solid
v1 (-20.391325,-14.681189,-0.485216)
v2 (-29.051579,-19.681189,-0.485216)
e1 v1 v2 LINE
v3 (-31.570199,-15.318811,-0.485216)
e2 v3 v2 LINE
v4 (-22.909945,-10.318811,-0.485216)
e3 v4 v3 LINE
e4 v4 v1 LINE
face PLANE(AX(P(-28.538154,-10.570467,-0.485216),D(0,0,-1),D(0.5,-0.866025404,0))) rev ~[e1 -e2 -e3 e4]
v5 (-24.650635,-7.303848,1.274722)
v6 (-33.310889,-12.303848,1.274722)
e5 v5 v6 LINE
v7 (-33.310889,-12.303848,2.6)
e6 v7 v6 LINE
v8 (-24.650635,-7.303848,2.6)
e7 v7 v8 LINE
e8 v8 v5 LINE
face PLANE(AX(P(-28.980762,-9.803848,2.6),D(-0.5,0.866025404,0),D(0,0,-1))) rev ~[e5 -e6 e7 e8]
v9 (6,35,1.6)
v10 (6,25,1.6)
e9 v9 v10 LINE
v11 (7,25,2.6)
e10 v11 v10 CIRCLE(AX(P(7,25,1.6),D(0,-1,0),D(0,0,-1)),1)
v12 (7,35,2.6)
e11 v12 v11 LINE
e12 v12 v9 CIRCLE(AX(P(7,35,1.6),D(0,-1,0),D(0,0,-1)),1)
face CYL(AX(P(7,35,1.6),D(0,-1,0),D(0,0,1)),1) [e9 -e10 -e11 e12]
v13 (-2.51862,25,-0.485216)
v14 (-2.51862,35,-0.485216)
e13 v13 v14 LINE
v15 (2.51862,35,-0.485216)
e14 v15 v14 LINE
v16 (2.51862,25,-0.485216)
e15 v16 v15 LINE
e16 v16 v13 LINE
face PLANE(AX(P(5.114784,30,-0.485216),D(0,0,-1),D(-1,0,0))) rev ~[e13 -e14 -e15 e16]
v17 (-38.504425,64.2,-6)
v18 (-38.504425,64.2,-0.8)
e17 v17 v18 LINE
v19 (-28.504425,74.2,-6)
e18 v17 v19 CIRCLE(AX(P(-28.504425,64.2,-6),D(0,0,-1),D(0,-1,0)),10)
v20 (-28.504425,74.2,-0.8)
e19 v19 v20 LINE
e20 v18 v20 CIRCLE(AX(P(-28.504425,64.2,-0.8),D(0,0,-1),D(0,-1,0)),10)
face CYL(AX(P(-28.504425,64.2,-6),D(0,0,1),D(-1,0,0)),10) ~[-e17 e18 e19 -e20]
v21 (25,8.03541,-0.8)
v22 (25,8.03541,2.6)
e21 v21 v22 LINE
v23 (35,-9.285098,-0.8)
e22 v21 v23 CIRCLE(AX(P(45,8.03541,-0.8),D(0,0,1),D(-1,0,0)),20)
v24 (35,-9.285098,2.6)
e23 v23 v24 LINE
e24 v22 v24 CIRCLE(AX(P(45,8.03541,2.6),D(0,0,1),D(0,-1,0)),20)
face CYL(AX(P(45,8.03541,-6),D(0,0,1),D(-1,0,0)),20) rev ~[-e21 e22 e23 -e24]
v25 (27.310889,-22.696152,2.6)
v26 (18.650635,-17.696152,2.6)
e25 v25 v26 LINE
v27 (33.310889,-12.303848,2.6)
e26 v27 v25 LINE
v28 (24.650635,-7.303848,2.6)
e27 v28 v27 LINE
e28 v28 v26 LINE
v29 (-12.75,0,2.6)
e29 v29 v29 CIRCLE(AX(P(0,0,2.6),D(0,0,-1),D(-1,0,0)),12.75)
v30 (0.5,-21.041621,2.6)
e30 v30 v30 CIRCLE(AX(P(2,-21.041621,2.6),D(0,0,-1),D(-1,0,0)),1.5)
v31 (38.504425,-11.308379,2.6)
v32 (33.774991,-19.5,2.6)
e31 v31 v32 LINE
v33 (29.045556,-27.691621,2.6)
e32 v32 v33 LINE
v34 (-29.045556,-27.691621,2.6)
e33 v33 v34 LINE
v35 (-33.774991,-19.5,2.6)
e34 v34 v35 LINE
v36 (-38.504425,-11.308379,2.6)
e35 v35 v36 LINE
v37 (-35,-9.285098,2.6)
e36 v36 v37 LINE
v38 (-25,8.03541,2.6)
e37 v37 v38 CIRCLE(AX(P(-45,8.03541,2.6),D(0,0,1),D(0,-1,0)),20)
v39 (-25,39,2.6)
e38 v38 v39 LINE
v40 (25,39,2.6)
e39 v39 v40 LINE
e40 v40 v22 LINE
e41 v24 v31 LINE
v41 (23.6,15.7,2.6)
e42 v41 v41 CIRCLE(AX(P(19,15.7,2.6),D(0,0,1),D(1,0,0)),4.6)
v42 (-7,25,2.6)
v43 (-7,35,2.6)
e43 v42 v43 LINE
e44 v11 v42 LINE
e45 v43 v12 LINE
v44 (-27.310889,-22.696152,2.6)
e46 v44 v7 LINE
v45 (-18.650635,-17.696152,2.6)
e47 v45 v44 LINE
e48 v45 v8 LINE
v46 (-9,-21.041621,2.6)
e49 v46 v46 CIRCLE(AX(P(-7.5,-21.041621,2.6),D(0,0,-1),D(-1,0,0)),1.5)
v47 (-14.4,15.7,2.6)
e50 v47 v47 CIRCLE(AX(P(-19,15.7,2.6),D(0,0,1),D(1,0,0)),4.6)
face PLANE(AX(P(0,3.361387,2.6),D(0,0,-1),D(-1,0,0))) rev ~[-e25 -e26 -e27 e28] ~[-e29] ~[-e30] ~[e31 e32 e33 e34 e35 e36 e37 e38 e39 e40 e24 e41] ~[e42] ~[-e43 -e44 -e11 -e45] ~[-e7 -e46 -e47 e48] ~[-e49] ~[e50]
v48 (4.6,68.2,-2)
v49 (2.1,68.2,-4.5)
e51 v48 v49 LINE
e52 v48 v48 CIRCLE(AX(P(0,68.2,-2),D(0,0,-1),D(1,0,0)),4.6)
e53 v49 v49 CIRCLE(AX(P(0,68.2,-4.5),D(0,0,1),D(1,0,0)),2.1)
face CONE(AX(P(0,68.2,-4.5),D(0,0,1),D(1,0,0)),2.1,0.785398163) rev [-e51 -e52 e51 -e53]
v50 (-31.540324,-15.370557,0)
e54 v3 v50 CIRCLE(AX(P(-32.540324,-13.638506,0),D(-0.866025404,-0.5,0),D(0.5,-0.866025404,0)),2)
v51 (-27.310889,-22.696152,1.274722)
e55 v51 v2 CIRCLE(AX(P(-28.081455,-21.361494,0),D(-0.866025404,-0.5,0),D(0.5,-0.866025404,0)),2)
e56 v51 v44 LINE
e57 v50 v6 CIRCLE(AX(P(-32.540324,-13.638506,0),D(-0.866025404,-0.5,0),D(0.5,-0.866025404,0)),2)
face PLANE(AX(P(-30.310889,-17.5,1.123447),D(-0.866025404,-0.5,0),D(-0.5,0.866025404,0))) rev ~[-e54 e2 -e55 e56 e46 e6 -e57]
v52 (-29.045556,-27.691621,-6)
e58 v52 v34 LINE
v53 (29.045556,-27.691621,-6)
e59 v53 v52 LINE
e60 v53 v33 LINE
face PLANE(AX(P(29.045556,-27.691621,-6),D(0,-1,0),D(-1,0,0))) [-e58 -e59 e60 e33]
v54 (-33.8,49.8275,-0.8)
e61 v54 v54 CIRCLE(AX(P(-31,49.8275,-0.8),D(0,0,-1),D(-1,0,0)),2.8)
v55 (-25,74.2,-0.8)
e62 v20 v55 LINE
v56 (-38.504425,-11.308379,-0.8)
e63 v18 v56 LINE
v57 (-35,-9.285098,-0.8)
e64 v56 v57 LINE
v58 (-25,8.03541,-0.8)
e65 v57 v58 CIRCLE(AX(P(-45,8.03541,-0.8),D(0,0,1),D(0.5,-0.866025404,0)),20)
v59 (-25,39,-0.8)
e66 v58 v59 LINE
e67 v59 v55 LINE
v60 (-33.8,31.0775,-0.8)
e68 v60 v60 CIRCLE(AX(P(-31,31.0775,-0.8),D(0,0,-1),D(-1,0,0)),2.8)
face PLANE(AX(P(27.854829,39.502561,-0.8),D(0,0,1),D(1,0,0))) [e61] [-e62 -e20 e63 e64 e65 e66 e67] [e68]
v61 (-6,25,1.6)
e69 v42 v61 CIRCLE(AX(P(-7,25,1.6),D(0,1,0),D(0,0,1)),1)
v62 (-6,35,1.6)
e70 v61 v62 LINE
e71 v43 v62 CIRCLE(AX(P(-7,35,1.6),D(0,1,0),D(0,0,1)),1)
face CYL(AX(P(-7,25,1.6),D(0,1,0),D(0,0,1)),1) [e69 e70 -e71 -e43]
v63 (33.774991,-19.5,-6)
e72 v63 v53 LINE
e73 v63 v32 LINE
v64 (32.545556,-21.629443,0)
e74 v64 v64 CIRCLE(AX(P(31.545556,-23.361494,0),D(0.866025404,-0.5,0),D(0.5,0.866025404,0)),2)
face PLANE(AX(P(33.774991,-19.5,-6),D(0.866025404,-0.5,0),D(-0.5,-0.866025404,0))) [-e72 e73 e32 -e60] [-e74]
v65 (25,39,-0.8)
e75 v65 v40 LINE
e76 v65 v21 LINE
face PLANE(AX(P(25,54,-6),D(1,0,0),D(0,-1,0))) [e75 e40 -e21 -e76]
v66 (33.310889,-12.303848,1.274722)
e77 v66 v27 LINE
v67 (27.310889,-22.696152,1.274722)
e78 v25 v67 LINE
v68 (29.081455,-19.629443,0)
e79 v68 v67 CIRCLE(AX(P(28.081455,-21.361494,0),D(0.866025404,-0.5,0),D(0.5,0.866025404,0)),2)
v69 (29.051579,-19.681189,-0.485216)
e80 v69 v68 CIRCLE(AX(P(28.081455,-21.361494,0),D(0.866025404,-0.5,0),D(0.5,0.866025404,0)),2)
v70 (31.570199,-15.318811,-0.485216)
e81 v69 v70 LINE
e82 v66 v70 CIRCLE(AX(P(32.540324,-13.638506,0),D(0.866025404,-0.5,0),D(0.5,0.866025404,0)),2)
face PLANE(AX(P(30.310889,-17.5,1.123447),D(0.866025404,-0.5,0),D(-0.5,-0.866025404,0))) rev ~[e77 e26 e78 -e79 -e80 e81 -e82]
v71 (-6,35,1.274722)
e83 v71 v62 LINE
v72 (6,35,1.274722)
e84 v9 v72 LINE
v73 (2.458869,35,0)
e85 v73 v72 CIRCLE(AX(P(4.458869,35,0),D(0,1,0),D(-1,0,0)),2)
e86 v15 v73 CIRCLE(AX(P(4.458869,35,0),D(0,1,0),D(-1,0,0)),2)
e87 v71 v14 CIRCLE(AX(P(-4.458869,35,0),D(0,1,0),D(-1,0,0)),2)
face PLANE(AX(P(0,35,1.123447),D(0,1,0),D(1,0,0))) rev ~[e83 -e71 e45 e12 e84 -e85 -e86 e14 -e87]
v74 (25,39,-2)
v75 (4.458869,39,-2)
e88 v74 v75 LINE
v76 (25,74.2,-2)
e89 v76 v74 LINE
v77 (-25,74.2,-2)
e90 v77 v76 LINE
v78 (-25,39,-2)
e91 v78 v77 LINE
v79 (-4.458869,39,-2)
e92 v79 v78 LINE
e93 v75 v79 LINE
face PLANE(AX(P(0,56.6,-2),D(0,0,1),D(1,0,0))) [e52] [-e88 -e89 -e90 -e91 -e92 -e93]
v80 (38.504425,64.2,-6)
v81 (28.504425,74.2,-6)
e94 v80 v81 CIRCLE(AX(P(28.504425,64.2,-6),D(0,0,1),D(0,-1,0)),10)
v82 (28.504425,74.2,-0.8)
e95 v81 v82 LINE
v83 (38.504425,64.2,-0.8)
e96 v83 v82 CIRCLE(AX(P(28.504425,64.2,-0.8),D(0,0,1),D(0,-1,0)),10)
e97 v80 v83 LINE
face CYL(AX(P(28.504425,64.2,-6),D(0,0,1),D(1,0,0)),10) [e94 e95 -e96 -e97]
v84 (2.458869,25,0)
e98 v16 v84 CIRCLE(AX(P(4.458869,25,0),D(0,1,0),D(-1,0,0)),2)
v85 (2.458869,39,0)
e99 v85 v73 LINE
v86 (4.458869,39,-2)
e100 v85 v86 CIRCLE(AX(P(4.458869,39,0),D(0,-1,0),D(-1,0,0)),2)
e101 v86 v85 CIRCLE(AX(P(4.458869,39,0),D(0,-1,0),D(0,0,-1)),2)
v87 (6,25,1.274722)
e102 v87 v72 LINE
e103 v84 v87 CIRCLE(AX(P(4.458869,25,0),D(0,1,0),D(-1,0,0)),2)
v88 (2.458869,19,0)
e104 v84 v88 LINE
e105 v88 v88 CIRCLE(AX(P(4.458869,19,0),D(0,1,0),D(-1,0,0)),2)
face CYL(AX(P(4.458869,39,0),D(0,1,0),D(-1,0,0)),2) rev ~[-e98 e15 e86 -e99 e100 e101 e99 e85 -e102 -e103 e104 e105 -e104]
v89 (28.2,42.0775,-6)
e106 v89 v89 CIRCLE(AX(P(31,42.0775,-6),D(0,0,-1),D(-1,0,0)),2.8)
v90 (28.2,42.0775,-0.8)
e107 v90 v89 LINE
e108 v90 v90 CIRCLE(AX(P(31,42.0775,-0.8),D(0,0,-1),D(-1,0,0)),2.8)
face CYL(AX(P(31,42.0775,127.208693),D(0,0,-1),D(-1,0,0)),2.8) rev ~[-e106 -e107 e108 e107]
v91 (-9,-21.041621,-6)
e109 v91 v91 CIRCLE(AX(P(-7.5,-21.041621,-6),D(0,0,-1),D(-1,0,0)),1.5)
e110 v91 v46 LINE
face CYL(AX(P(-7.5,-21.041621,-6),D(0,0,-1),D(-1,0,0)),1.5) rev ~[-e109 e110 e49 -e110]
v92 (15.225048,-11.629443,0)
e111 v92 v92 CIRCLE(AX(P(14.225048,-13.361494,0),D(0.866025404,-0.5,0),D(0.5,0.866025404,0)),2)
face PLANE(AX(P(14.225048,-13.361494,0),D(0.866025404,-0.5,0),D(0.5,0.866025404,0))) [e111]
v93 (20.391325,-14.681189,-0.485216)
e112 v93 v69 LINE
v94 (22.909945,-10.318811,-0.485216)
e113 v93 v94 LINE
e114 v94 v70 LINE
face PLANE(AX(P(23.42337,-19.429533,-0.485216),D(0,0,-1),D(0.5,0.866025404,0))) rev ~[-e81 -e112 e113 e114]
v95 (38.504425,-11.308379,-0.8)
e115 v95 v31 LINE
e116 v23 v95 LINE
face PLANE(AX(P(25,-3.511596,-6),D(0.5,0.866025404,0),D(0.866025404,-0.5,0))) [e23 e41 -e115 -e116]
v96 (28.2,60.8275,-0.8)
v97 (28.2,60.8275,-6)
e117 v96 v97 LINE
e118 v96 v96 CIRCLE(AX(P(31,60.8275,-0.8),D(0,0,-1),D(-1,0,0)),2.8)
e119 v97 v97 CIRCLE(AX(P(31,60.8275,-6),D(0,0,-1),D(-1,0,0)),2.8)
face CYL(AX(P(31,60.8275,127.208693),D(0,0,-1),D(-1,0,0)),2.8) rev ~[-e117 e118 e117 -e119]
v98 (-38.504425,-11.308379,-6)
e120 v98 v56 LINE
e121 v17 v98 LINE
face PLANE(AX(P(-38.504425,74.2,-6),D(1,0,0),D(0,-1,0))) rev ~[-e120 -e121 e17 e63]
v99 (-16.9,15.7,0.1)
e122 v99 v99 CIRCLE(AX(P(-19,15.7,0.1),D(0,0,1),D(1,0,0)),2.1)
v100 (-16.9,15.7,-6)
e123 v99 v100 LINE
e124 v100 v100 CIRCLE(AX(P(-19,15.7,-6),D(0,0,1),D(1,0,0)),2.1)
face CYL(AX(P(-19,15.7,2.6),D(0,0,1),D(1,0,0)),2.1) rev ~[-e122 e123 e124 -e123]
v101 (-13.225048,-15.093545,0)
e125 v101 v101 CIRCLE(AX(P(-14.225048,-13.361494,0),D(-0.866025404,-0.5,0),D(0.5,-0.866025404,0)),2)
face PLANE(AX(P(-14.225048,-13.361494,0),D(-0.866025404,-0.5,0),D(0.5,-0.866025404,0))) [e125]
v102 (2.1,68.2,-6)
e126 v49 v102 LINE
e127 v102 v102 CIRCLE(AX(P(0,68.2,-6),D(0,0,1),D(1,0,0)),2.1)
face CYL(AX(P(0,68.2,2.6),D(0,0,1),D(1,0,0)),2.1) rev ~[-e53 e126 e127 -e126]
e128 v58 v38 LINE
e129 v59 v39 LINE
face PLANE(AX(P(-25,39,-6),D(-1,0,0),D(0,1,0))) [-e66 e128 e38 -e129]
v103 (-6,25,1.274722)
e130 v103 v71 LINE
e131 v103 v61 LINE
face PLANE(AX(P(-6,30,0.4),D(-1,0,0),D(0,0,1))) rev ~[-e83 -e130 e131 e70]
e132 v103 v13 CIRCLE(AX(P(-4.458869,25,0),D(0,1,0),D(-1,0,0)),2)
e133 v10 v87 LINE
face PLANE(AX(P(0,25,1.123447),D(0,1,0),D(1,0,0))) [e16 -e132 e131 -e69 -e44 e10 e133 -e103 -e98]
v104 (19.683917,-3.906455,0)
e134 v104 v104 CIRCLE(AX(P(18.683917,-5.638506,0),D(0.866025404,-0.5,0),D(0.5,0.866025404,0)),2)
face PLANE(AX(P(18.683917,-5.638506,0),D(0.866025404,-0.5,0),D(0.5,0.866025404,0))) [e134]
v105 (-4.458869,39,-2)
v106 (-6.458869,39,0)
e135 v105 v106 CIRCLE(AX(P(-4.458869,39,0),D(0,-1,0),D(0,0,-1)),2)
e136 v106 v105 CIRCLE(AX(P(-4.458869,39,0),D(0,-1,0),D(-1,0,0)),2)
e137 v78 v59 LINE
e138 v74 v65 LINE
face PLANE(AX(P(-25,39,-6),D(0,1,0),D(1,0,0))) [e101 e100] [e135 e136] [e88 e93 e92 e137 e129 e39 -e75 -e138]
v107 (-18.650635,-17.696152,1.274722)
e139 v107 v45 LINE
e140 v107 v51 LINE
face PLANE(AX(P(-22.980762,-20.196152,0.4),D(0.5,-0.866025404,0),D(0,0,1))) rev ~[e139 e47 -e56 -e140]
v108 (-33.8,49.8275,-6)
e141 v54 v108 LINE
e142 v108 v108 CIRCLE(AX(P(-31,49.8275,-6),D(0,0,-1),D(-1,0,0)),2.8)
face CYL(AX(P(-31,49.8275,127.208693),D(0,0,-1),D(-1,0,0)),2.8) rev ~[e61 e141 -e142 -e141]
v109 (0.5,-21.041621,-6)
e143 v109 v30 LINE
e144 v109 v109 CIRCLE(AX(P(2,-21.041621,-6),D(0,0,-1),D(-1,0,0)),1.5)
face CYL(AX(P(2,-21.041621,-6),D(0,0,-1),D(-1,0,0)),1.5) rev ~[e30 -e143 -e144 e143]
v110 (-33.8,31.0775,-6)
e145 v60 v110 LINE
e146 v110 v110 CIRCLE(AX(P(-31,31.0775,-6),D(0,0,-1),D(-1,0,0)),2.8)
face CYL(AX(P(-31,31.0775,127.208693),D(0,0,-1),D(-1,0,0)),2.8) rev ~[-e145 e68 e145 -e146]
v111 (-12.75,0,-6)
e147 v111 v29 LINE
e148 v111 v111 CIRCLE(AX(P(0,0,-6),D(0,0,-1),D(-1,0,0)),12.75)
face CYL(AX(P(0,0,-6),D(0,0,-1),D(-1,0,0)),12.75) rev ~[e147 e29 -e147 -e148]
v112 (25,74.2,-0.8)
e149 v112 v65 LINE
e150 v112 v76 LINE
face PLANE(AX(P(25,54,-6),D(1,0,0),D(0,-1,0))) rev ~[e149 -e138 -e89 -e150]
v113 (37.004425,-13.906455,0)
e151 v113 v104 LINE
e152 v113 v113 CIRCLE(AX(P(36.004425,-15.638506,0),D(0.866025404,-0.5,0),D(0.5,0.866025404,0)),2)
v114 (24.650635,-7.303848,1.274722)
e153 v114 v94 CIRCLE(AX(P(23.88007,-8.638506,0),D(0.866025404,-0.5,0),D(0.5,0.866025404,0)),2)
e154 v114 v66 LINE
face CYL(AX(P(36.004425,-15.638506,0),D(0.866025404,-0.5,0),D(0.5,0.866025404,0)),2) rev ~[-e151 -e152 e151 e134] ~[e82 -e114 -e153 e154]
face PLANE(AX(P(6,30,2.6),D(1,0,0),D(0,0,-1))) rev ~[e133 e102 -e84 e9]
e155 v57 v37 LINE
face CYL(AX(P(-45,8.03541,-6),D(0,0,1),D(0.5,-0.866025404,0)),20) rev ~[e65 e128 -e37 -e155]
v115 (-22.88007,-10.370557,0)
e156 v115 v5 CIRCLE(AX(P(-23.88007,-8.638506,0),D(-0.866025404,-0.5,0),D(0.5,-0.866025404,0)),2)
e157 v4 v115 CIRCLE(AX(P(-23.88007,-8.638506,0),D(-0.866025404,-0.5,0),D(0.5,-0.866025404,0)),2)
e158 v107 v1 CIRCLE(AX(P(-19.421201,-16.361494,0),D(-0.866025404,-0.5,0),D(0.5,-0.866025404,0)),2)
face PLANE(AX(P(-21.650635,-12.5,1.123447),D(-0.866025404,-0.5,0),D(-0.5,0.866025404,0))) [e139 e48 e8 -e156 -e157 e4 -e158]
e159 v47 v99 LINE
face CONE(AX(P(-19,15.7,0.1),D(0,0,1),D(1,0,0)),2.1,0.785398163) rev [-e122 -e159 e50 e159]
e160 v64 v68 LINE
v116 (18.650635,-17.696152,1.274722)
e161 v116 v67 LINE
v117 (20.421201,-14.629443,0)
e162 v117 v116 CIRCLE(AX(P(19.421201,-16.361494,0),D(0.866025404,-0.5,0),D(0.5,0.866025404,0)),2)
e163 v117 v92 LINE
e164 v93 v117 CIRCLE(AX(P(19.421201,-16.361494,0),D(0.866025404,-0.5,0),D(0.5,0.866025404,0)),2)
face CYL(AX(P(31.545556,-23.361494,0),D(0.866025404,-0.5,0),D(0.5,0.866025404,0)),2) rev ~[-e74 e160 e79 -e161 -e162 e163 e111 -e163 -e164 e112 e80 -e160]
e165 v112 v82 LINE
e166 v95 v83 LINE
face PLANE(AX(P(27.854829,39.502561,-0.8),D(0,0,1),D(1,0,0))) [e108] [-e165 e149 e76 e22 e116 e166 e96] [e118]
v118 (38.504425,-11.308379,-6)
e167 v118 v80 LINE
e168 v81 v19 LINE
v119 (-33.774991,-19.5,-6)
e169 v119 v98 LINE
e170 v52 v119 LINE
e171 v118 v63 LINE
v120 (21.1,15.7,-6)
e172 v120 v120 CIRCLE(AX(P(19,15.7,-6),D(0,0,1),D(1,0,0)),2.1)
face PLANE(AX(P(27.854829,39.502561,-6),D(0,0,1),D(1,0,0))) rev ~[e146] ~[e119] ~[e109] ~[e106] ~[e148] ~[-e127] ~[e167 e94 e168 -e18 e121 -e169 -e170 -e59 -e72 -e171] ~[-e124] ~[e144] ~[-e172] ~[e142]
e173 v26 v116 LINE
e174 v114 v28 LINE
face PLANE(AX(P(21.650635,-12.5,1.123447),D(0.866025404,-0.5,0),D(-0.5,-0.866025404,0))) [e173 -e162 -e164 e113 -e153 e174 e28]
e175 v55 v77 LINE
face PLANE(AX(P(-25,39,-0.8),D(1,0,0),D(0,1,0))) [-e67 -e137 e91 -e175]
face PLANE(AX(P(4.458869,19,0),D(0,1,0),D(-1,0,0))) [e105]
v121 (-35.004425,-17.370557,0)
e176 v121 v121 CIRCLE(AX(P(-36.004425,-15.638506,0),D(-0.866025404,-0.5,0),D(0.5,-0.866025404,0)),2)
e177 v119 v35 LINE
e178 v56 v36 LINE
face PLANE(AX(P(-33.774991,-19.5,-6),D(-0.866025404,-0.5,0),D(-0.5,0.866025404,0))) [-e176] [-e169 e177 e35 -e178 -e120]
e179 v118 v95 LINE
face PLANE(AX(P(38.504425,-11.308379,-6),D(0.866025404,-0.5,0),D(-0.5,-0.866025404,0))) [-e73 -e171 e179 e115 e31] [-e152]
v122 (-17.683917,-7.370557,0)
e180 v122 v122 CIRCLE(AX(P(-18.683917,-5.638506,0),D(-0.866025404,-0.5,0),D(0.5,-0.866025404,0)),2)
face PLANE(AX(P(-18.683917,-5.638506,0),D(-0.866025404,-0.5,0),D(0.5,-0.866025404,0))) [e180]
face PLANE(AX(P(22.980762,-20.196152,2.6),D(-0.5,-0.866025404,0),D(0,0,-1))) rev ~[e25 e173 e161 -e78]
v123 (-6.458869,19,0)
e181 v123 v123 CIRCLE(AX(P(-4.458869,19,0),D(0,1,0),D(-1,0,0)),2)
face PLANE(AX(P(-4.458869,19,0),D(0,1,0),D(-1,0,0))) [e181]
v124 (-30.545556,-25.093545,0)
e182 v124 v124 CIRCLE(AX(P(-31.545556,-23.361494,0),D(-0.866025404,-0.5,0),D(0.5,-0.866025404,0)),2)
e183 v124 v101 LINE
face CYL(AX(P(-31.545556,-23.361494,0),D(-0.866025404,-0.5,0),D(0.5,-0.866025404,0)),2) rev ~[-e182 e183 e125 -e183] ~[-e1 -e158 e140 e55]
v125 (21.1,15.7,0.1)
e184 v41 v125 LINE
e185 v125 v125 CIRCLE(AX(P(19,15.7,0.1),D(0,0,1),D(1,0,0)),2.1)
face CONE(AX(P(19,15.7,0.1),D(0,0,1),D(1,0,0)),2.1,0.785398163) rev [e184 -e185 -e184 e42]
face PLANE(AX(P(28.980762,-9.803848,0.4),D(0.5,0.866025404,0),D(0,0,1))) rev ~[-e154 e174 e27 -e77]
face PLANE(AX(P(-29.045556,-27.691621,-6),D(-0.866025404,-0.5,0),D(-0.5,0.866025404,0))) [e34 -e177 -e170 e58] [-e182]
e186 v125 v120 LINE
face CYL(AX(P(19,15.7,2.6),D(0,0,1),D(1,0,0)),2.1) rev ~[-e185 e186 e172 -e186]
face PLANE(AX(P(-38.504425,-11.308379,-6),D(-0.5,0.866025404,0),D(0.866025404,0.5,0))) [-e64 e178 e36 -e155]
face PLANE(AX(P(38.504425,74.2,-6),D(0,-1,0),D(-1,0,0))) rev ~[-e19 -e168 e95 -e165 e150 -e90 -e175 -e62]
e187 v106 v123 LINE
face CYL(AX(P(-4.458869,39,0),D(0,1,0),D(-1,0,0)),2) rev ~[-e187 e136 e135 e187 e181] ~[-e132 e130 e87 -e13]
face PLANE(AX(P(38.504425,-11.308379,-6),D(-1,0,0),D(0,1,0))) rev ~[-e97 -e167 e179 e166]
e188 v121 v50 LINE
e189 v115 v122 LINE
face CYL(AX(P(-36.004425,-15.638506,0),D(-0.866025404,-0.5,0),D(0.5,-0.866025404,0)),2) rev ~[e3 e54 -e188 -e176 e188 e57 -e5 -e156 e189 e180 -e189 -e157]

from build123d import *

# Parameters (mm, degrees)
BOSS_EXTRUDE1_DEPTH        = 2.6
BOSS_EXTRUDE1_DEPTH_BACK   = 6
FILLET1_R                  = 20
CUT_EXTRUDE1_DEPTH         = 5
SKETCH5_R                  = 2
CUT_EXTRUDE2_DEPTH         = 20
FILLET3_R                  = 1
CIRPATTERN1_COUNT          = 3
SKETCH6_R                  = 2.75
CUT_EXTRUDE3_DEPTH         = 56.475677209
BOSS_EXTRUDE2_DEPTH        = 4
SKETCH8_R                  = 2.1
CUT_EXTRUDE4_DEPTH         = 85.036841694
CHAMFER1_SIZE              = 2.5
SKETCH9_R                  = 1.5
CUT_EXTRUDE5_DEPTH         = 85.036841694
BOSS_EXTRUDE3_DEPTH        = 5.2
BOSS_EXTRUDE4_DEPTH        = 5.2
FILLET4_R                  = 10
SKETCH13_R                 = 7
CUT_EXTRUDE7_DEPTH         = 5
SKETCH14_W                 = 50
SKETCH14_H                 = 35.2
CUT_EXTRUDE8_DEPTH         = 1.2
F_5_6_5_6_DIAMETER_HOLE1_D = 5.6
SKETCH17_R                 = 12.75
CUT_EXTRUDE9_DEPTH         = 85.036841694


with BuildPart() as part:
    # Sketch3 → Boss-Extrude1 (new, two sides: drawn at the far end of the back side and taken through both)
    with BuildSketch(Plane.XY.offset(-BOSS_EXTRUDE1_DEPTH_BACK)):
        Polygon((-25, 39), (25, 39), (25, -3.511595657), (38.504425224, -11.308379196), (33.774990748, -19.5), (29.045556271, -27.691620804), (-29.045556271, -27.691620804), (-33.774990748, -19.5), (-38.504425224, -11.308379196), (-25, -3.511595657), align=None)
    extrude(amount=BOSS_EXTRUDE1_DEPTH + BOSS_EXTRUDE1_DEPTH_BACK)

    # Fillet1
    fillet1_edges = [part.edges().sort_by_distance(p)[0] for p in [
        (25, -3.511595657, -1.7),
        (-25, -3.511595657, -1.7),
    ]]
    fillet(fillet1_edges, radius=FILLET1_R)

    # Sketch4 → Cut-Extrude1 (cut, symmetric)
    with BuildSketch(Plane(origin=(0, 30, 0), x_dir=(1, 0, 0), z_dir=(0, 1, 0))):
        Polygon((5.114783638, 0.485216362), (-5.114783638, 0.485216362), (-6, -0.4), (-6, -2.6), (6, -2.6), (6, -0.4), align=None)
    cut_extrude1 = extrude(amount=CUT_EXTRUDE1_DEPTH, both=True, mode=Mode.SUBTRACT)

    # Sketch5 → Cut-Extrude2 (cut)
    with BuildSketch(Plane(origin=(0, 39, 0), x_dir=(1, 0, 0), z_dir=(0, 1, 0))):
        with Locations(Location((-4.458868953, 0, 0), (0, 0, 180))):
            Circle(SKETCH5_R)
        with Locations(Location((4.458868953, 0, 0), (0, 0, 180))):
            Circle(SKETCH5_R)
    cut_extrude2 = extrude(amount=-CUT_EXTRUDE2_DEPTH, mode=Mode.SUBTRACT)

    # Fillet3
    fillet3_edges = [part.edges().sort_by_distance(p)[0] for p in [
        (-6, 30, 2.6),
        (6, 30, 2.6),
    ]]
    fillet(fillet3_edges, radius=FILLET3_R)

    # CirPattern1: Cut-Extrude1, Cut-Extrude2 ×3 about axis
    cirpattern1_axis = Axis((0, 0, 0), (0, 0, 1))
    add([cut_extrude1.rotate(cirpattern1_axis, i * 360 / CIRPATTERN1_COUNT) for i in range(1, CIRPATTERN1_COUNT)], mode=Mode.SUBTRACT)
    add([cut_extrude2.rotate(cirpattern1_axis, i * 360 / CIRPATTERN1_COUNT) for i in range(1, CIRPATTERN1_COUNT)], mode=Mode.SUBTRACT)

    # Sketch6 → Cut-Extrude3 (cut, through all)
    with BuildSketch(Plane.XY.offset(2.6)):
        Circle(SKETCH6_R)
    extrude(amount=-CUT_EXTRUDE3_DEPTH, mode=Mode.SUBTRACT)

    # Sketch7 → Boss-Extrude2 (add)
    with BuildSketch(Plane(origin=(0, 0, -6), x_dir=(-1, 0, 0), z_dir=(0, 0, -1))):
        with BuildLine():
            Line((-25, 39), (25, 39))
            Line((25, 39), (25, 54))
            Line((25, 54), (3.986839478, 72.68387232))
            ThreePointArc((3.986839478, 72.68387232), (0, 74.2), (-3.986839478, 72.68387232))
            Line((-3.986839478, 72.68387232), (-25, 54))
            Line((-25, 54), (-25, 39))
        make_face()
    extrude(amount=-BOSS_EXTRUDE2_DEPTH)

    # Sketch8 → Cut-Extrude4 (cut, through all)
    with BuildSketch(Plane.XY.offset(2.6)):
        with Locations((-19, 15.7)):
            Circle(SKETCH8_R)
        with Locations((19, 15.7)):
            Circle(SKETCH8_R)
        with Locations((0, 68.2)):
            Circle(SKETCH8_R)
    extrude(amount=-CUT_EXTRUDE4_DEPTH, mode=Mode.SUBTRACT)

    # Chamfer1
    chamfer1_edges = [part.edges().sort_by_distance(p)[0] for p in [
        (-21.1, 15.7, 2.6),
        (16.9, 15.7, 2.6),
        (-2.1, 68.2, -2),
    ]]
    chamfer(chamfer1_edges, length=CHAMFER1_SIZE)

    # Sketch9 → Cut-Extrude5 (cut, through all)
    with BuildSketch(Plane(origin=(0, 0, -6), x_dir=(-1, 0, 0), z_dir=(0, 0, -1))):
        with Locations((7.5, -21.041620804)):
            Circle(SKETCH9_R)
        with Locations((-2, -21.041620804)):
            Circle(SKETCH9_R)
    extrude(amount=-CUT_EXTRUDE5_DEPTH, mode=Mode.SUBTRACT)

    # Sketch10 → Boss-Extrude3 (add)
    with BuildSketch(Plane(origin=(0, 0, -6), x_dir=(-1, 0, 0), z_dir=(0, 0, -1))):
        with BuildLine():
            Line((25, 8.035409726), (25, 54))
            Line((25, 54), (3.986839478, 72.68387232))
            ThreePointArc((3.986839478, 72.68387232), (2.132693846, 73.80817412), (0, 74.2))
            Line((0, 74.2), (38.504425224, 74.2))
            Line((38.504425224, 74.2), (38.504425224, -11.308379196))
            Line((38.504425224, -11.308379196), (35, -9.285098349))
            ThreePointArc((35, -9.285098349), (27.679491924, -1.964590274), (25, 8.035409726))
        make_face()
    extrude(amount=-BOSS_EXTRUDE3_DEPTH)

    # Sketch11 → Boss-Extrude4 (add)
    with BuildSketch(Plane(origin=(0, 0, -6), x_dir=(-1, 0, 0), z_dir=(0, 0, -1))):
        with BuildLine():
            Line((-38.504425224, -11.308379196), (-38.504425224, 74.2))
            Line((-38.504425224, 74.2), (0.121007206, 74.2))
            Line((0.121007206, 74.2), (-25, 54))
            Line((-25, 54), (-25, 8.035409726))
            ThreePointArc((-25, 8.035409726), (-27.679491924, -1.964590274), (-35, -9.285098349))
            Line((-35, -9.285098349), (-38.504425224, -11.308379196))
        make_face()
    extrude(amount=-BOSS_EXTRUDE4_DEPTH)

    # Fillet4
    fillet4_edges = [part.edges().sort_by_distance(p)[0] for p in [
        (-38.504425224, 74.2, -3.4),
        (38.504425224, 74.2, -3.4),
    ]]
    fillet(fillet4_edges, radius=FILLET4_R)

    # Sketch13 → Cut-Extrude7 (cut)
    with BuildSketch(Plane(origin=(0, 0, -6), x_dir=(-1, 0, 0), z_dir=(0, 0, -1))):
        Circle(SKETCH13_R)
    extrude(amount=-CUT_EXTRUDE7_DEPTH, mode=Mode.SUBTRACT)

    # Sketch14 → Cut-Extrude8 (cut)
    with BuildSketch(Plane.XY.offset(-0.8)):
        with Locations((0, 56.6)):
            Rectangle(SKETCH14_W, SKETCH14_H)
    extrude(amount=-CUT_EXTRUDE8_DEPTH, mode=Mode.SUBTRACT)

    # Ø5.6 (5.6) Diameter Hole1 (through all)
    with Locations(Plane.XY.offset(-0.8)):
        with Locations((-31, 49.8275), (-31, 31.0775), (31, 42.0775), (31, 60.8275)):
            Hole(F_5_6_5_6_DIAMETER_HOLE1_D / 2)

    # Sketch17 → Cut-Extrude9 (cut, through all)
    with BuildSketch(Plane(origin=(0, 0, -6), x_dir=(-1, 0, 0), z_dir=(0, 0, -1))):
        Circle(SKETCH17_R)
    extrude(amount=-CUT_EXTRUDE9_DEPTH, mode=Mode.SUBTRACT)


solid = part.part
